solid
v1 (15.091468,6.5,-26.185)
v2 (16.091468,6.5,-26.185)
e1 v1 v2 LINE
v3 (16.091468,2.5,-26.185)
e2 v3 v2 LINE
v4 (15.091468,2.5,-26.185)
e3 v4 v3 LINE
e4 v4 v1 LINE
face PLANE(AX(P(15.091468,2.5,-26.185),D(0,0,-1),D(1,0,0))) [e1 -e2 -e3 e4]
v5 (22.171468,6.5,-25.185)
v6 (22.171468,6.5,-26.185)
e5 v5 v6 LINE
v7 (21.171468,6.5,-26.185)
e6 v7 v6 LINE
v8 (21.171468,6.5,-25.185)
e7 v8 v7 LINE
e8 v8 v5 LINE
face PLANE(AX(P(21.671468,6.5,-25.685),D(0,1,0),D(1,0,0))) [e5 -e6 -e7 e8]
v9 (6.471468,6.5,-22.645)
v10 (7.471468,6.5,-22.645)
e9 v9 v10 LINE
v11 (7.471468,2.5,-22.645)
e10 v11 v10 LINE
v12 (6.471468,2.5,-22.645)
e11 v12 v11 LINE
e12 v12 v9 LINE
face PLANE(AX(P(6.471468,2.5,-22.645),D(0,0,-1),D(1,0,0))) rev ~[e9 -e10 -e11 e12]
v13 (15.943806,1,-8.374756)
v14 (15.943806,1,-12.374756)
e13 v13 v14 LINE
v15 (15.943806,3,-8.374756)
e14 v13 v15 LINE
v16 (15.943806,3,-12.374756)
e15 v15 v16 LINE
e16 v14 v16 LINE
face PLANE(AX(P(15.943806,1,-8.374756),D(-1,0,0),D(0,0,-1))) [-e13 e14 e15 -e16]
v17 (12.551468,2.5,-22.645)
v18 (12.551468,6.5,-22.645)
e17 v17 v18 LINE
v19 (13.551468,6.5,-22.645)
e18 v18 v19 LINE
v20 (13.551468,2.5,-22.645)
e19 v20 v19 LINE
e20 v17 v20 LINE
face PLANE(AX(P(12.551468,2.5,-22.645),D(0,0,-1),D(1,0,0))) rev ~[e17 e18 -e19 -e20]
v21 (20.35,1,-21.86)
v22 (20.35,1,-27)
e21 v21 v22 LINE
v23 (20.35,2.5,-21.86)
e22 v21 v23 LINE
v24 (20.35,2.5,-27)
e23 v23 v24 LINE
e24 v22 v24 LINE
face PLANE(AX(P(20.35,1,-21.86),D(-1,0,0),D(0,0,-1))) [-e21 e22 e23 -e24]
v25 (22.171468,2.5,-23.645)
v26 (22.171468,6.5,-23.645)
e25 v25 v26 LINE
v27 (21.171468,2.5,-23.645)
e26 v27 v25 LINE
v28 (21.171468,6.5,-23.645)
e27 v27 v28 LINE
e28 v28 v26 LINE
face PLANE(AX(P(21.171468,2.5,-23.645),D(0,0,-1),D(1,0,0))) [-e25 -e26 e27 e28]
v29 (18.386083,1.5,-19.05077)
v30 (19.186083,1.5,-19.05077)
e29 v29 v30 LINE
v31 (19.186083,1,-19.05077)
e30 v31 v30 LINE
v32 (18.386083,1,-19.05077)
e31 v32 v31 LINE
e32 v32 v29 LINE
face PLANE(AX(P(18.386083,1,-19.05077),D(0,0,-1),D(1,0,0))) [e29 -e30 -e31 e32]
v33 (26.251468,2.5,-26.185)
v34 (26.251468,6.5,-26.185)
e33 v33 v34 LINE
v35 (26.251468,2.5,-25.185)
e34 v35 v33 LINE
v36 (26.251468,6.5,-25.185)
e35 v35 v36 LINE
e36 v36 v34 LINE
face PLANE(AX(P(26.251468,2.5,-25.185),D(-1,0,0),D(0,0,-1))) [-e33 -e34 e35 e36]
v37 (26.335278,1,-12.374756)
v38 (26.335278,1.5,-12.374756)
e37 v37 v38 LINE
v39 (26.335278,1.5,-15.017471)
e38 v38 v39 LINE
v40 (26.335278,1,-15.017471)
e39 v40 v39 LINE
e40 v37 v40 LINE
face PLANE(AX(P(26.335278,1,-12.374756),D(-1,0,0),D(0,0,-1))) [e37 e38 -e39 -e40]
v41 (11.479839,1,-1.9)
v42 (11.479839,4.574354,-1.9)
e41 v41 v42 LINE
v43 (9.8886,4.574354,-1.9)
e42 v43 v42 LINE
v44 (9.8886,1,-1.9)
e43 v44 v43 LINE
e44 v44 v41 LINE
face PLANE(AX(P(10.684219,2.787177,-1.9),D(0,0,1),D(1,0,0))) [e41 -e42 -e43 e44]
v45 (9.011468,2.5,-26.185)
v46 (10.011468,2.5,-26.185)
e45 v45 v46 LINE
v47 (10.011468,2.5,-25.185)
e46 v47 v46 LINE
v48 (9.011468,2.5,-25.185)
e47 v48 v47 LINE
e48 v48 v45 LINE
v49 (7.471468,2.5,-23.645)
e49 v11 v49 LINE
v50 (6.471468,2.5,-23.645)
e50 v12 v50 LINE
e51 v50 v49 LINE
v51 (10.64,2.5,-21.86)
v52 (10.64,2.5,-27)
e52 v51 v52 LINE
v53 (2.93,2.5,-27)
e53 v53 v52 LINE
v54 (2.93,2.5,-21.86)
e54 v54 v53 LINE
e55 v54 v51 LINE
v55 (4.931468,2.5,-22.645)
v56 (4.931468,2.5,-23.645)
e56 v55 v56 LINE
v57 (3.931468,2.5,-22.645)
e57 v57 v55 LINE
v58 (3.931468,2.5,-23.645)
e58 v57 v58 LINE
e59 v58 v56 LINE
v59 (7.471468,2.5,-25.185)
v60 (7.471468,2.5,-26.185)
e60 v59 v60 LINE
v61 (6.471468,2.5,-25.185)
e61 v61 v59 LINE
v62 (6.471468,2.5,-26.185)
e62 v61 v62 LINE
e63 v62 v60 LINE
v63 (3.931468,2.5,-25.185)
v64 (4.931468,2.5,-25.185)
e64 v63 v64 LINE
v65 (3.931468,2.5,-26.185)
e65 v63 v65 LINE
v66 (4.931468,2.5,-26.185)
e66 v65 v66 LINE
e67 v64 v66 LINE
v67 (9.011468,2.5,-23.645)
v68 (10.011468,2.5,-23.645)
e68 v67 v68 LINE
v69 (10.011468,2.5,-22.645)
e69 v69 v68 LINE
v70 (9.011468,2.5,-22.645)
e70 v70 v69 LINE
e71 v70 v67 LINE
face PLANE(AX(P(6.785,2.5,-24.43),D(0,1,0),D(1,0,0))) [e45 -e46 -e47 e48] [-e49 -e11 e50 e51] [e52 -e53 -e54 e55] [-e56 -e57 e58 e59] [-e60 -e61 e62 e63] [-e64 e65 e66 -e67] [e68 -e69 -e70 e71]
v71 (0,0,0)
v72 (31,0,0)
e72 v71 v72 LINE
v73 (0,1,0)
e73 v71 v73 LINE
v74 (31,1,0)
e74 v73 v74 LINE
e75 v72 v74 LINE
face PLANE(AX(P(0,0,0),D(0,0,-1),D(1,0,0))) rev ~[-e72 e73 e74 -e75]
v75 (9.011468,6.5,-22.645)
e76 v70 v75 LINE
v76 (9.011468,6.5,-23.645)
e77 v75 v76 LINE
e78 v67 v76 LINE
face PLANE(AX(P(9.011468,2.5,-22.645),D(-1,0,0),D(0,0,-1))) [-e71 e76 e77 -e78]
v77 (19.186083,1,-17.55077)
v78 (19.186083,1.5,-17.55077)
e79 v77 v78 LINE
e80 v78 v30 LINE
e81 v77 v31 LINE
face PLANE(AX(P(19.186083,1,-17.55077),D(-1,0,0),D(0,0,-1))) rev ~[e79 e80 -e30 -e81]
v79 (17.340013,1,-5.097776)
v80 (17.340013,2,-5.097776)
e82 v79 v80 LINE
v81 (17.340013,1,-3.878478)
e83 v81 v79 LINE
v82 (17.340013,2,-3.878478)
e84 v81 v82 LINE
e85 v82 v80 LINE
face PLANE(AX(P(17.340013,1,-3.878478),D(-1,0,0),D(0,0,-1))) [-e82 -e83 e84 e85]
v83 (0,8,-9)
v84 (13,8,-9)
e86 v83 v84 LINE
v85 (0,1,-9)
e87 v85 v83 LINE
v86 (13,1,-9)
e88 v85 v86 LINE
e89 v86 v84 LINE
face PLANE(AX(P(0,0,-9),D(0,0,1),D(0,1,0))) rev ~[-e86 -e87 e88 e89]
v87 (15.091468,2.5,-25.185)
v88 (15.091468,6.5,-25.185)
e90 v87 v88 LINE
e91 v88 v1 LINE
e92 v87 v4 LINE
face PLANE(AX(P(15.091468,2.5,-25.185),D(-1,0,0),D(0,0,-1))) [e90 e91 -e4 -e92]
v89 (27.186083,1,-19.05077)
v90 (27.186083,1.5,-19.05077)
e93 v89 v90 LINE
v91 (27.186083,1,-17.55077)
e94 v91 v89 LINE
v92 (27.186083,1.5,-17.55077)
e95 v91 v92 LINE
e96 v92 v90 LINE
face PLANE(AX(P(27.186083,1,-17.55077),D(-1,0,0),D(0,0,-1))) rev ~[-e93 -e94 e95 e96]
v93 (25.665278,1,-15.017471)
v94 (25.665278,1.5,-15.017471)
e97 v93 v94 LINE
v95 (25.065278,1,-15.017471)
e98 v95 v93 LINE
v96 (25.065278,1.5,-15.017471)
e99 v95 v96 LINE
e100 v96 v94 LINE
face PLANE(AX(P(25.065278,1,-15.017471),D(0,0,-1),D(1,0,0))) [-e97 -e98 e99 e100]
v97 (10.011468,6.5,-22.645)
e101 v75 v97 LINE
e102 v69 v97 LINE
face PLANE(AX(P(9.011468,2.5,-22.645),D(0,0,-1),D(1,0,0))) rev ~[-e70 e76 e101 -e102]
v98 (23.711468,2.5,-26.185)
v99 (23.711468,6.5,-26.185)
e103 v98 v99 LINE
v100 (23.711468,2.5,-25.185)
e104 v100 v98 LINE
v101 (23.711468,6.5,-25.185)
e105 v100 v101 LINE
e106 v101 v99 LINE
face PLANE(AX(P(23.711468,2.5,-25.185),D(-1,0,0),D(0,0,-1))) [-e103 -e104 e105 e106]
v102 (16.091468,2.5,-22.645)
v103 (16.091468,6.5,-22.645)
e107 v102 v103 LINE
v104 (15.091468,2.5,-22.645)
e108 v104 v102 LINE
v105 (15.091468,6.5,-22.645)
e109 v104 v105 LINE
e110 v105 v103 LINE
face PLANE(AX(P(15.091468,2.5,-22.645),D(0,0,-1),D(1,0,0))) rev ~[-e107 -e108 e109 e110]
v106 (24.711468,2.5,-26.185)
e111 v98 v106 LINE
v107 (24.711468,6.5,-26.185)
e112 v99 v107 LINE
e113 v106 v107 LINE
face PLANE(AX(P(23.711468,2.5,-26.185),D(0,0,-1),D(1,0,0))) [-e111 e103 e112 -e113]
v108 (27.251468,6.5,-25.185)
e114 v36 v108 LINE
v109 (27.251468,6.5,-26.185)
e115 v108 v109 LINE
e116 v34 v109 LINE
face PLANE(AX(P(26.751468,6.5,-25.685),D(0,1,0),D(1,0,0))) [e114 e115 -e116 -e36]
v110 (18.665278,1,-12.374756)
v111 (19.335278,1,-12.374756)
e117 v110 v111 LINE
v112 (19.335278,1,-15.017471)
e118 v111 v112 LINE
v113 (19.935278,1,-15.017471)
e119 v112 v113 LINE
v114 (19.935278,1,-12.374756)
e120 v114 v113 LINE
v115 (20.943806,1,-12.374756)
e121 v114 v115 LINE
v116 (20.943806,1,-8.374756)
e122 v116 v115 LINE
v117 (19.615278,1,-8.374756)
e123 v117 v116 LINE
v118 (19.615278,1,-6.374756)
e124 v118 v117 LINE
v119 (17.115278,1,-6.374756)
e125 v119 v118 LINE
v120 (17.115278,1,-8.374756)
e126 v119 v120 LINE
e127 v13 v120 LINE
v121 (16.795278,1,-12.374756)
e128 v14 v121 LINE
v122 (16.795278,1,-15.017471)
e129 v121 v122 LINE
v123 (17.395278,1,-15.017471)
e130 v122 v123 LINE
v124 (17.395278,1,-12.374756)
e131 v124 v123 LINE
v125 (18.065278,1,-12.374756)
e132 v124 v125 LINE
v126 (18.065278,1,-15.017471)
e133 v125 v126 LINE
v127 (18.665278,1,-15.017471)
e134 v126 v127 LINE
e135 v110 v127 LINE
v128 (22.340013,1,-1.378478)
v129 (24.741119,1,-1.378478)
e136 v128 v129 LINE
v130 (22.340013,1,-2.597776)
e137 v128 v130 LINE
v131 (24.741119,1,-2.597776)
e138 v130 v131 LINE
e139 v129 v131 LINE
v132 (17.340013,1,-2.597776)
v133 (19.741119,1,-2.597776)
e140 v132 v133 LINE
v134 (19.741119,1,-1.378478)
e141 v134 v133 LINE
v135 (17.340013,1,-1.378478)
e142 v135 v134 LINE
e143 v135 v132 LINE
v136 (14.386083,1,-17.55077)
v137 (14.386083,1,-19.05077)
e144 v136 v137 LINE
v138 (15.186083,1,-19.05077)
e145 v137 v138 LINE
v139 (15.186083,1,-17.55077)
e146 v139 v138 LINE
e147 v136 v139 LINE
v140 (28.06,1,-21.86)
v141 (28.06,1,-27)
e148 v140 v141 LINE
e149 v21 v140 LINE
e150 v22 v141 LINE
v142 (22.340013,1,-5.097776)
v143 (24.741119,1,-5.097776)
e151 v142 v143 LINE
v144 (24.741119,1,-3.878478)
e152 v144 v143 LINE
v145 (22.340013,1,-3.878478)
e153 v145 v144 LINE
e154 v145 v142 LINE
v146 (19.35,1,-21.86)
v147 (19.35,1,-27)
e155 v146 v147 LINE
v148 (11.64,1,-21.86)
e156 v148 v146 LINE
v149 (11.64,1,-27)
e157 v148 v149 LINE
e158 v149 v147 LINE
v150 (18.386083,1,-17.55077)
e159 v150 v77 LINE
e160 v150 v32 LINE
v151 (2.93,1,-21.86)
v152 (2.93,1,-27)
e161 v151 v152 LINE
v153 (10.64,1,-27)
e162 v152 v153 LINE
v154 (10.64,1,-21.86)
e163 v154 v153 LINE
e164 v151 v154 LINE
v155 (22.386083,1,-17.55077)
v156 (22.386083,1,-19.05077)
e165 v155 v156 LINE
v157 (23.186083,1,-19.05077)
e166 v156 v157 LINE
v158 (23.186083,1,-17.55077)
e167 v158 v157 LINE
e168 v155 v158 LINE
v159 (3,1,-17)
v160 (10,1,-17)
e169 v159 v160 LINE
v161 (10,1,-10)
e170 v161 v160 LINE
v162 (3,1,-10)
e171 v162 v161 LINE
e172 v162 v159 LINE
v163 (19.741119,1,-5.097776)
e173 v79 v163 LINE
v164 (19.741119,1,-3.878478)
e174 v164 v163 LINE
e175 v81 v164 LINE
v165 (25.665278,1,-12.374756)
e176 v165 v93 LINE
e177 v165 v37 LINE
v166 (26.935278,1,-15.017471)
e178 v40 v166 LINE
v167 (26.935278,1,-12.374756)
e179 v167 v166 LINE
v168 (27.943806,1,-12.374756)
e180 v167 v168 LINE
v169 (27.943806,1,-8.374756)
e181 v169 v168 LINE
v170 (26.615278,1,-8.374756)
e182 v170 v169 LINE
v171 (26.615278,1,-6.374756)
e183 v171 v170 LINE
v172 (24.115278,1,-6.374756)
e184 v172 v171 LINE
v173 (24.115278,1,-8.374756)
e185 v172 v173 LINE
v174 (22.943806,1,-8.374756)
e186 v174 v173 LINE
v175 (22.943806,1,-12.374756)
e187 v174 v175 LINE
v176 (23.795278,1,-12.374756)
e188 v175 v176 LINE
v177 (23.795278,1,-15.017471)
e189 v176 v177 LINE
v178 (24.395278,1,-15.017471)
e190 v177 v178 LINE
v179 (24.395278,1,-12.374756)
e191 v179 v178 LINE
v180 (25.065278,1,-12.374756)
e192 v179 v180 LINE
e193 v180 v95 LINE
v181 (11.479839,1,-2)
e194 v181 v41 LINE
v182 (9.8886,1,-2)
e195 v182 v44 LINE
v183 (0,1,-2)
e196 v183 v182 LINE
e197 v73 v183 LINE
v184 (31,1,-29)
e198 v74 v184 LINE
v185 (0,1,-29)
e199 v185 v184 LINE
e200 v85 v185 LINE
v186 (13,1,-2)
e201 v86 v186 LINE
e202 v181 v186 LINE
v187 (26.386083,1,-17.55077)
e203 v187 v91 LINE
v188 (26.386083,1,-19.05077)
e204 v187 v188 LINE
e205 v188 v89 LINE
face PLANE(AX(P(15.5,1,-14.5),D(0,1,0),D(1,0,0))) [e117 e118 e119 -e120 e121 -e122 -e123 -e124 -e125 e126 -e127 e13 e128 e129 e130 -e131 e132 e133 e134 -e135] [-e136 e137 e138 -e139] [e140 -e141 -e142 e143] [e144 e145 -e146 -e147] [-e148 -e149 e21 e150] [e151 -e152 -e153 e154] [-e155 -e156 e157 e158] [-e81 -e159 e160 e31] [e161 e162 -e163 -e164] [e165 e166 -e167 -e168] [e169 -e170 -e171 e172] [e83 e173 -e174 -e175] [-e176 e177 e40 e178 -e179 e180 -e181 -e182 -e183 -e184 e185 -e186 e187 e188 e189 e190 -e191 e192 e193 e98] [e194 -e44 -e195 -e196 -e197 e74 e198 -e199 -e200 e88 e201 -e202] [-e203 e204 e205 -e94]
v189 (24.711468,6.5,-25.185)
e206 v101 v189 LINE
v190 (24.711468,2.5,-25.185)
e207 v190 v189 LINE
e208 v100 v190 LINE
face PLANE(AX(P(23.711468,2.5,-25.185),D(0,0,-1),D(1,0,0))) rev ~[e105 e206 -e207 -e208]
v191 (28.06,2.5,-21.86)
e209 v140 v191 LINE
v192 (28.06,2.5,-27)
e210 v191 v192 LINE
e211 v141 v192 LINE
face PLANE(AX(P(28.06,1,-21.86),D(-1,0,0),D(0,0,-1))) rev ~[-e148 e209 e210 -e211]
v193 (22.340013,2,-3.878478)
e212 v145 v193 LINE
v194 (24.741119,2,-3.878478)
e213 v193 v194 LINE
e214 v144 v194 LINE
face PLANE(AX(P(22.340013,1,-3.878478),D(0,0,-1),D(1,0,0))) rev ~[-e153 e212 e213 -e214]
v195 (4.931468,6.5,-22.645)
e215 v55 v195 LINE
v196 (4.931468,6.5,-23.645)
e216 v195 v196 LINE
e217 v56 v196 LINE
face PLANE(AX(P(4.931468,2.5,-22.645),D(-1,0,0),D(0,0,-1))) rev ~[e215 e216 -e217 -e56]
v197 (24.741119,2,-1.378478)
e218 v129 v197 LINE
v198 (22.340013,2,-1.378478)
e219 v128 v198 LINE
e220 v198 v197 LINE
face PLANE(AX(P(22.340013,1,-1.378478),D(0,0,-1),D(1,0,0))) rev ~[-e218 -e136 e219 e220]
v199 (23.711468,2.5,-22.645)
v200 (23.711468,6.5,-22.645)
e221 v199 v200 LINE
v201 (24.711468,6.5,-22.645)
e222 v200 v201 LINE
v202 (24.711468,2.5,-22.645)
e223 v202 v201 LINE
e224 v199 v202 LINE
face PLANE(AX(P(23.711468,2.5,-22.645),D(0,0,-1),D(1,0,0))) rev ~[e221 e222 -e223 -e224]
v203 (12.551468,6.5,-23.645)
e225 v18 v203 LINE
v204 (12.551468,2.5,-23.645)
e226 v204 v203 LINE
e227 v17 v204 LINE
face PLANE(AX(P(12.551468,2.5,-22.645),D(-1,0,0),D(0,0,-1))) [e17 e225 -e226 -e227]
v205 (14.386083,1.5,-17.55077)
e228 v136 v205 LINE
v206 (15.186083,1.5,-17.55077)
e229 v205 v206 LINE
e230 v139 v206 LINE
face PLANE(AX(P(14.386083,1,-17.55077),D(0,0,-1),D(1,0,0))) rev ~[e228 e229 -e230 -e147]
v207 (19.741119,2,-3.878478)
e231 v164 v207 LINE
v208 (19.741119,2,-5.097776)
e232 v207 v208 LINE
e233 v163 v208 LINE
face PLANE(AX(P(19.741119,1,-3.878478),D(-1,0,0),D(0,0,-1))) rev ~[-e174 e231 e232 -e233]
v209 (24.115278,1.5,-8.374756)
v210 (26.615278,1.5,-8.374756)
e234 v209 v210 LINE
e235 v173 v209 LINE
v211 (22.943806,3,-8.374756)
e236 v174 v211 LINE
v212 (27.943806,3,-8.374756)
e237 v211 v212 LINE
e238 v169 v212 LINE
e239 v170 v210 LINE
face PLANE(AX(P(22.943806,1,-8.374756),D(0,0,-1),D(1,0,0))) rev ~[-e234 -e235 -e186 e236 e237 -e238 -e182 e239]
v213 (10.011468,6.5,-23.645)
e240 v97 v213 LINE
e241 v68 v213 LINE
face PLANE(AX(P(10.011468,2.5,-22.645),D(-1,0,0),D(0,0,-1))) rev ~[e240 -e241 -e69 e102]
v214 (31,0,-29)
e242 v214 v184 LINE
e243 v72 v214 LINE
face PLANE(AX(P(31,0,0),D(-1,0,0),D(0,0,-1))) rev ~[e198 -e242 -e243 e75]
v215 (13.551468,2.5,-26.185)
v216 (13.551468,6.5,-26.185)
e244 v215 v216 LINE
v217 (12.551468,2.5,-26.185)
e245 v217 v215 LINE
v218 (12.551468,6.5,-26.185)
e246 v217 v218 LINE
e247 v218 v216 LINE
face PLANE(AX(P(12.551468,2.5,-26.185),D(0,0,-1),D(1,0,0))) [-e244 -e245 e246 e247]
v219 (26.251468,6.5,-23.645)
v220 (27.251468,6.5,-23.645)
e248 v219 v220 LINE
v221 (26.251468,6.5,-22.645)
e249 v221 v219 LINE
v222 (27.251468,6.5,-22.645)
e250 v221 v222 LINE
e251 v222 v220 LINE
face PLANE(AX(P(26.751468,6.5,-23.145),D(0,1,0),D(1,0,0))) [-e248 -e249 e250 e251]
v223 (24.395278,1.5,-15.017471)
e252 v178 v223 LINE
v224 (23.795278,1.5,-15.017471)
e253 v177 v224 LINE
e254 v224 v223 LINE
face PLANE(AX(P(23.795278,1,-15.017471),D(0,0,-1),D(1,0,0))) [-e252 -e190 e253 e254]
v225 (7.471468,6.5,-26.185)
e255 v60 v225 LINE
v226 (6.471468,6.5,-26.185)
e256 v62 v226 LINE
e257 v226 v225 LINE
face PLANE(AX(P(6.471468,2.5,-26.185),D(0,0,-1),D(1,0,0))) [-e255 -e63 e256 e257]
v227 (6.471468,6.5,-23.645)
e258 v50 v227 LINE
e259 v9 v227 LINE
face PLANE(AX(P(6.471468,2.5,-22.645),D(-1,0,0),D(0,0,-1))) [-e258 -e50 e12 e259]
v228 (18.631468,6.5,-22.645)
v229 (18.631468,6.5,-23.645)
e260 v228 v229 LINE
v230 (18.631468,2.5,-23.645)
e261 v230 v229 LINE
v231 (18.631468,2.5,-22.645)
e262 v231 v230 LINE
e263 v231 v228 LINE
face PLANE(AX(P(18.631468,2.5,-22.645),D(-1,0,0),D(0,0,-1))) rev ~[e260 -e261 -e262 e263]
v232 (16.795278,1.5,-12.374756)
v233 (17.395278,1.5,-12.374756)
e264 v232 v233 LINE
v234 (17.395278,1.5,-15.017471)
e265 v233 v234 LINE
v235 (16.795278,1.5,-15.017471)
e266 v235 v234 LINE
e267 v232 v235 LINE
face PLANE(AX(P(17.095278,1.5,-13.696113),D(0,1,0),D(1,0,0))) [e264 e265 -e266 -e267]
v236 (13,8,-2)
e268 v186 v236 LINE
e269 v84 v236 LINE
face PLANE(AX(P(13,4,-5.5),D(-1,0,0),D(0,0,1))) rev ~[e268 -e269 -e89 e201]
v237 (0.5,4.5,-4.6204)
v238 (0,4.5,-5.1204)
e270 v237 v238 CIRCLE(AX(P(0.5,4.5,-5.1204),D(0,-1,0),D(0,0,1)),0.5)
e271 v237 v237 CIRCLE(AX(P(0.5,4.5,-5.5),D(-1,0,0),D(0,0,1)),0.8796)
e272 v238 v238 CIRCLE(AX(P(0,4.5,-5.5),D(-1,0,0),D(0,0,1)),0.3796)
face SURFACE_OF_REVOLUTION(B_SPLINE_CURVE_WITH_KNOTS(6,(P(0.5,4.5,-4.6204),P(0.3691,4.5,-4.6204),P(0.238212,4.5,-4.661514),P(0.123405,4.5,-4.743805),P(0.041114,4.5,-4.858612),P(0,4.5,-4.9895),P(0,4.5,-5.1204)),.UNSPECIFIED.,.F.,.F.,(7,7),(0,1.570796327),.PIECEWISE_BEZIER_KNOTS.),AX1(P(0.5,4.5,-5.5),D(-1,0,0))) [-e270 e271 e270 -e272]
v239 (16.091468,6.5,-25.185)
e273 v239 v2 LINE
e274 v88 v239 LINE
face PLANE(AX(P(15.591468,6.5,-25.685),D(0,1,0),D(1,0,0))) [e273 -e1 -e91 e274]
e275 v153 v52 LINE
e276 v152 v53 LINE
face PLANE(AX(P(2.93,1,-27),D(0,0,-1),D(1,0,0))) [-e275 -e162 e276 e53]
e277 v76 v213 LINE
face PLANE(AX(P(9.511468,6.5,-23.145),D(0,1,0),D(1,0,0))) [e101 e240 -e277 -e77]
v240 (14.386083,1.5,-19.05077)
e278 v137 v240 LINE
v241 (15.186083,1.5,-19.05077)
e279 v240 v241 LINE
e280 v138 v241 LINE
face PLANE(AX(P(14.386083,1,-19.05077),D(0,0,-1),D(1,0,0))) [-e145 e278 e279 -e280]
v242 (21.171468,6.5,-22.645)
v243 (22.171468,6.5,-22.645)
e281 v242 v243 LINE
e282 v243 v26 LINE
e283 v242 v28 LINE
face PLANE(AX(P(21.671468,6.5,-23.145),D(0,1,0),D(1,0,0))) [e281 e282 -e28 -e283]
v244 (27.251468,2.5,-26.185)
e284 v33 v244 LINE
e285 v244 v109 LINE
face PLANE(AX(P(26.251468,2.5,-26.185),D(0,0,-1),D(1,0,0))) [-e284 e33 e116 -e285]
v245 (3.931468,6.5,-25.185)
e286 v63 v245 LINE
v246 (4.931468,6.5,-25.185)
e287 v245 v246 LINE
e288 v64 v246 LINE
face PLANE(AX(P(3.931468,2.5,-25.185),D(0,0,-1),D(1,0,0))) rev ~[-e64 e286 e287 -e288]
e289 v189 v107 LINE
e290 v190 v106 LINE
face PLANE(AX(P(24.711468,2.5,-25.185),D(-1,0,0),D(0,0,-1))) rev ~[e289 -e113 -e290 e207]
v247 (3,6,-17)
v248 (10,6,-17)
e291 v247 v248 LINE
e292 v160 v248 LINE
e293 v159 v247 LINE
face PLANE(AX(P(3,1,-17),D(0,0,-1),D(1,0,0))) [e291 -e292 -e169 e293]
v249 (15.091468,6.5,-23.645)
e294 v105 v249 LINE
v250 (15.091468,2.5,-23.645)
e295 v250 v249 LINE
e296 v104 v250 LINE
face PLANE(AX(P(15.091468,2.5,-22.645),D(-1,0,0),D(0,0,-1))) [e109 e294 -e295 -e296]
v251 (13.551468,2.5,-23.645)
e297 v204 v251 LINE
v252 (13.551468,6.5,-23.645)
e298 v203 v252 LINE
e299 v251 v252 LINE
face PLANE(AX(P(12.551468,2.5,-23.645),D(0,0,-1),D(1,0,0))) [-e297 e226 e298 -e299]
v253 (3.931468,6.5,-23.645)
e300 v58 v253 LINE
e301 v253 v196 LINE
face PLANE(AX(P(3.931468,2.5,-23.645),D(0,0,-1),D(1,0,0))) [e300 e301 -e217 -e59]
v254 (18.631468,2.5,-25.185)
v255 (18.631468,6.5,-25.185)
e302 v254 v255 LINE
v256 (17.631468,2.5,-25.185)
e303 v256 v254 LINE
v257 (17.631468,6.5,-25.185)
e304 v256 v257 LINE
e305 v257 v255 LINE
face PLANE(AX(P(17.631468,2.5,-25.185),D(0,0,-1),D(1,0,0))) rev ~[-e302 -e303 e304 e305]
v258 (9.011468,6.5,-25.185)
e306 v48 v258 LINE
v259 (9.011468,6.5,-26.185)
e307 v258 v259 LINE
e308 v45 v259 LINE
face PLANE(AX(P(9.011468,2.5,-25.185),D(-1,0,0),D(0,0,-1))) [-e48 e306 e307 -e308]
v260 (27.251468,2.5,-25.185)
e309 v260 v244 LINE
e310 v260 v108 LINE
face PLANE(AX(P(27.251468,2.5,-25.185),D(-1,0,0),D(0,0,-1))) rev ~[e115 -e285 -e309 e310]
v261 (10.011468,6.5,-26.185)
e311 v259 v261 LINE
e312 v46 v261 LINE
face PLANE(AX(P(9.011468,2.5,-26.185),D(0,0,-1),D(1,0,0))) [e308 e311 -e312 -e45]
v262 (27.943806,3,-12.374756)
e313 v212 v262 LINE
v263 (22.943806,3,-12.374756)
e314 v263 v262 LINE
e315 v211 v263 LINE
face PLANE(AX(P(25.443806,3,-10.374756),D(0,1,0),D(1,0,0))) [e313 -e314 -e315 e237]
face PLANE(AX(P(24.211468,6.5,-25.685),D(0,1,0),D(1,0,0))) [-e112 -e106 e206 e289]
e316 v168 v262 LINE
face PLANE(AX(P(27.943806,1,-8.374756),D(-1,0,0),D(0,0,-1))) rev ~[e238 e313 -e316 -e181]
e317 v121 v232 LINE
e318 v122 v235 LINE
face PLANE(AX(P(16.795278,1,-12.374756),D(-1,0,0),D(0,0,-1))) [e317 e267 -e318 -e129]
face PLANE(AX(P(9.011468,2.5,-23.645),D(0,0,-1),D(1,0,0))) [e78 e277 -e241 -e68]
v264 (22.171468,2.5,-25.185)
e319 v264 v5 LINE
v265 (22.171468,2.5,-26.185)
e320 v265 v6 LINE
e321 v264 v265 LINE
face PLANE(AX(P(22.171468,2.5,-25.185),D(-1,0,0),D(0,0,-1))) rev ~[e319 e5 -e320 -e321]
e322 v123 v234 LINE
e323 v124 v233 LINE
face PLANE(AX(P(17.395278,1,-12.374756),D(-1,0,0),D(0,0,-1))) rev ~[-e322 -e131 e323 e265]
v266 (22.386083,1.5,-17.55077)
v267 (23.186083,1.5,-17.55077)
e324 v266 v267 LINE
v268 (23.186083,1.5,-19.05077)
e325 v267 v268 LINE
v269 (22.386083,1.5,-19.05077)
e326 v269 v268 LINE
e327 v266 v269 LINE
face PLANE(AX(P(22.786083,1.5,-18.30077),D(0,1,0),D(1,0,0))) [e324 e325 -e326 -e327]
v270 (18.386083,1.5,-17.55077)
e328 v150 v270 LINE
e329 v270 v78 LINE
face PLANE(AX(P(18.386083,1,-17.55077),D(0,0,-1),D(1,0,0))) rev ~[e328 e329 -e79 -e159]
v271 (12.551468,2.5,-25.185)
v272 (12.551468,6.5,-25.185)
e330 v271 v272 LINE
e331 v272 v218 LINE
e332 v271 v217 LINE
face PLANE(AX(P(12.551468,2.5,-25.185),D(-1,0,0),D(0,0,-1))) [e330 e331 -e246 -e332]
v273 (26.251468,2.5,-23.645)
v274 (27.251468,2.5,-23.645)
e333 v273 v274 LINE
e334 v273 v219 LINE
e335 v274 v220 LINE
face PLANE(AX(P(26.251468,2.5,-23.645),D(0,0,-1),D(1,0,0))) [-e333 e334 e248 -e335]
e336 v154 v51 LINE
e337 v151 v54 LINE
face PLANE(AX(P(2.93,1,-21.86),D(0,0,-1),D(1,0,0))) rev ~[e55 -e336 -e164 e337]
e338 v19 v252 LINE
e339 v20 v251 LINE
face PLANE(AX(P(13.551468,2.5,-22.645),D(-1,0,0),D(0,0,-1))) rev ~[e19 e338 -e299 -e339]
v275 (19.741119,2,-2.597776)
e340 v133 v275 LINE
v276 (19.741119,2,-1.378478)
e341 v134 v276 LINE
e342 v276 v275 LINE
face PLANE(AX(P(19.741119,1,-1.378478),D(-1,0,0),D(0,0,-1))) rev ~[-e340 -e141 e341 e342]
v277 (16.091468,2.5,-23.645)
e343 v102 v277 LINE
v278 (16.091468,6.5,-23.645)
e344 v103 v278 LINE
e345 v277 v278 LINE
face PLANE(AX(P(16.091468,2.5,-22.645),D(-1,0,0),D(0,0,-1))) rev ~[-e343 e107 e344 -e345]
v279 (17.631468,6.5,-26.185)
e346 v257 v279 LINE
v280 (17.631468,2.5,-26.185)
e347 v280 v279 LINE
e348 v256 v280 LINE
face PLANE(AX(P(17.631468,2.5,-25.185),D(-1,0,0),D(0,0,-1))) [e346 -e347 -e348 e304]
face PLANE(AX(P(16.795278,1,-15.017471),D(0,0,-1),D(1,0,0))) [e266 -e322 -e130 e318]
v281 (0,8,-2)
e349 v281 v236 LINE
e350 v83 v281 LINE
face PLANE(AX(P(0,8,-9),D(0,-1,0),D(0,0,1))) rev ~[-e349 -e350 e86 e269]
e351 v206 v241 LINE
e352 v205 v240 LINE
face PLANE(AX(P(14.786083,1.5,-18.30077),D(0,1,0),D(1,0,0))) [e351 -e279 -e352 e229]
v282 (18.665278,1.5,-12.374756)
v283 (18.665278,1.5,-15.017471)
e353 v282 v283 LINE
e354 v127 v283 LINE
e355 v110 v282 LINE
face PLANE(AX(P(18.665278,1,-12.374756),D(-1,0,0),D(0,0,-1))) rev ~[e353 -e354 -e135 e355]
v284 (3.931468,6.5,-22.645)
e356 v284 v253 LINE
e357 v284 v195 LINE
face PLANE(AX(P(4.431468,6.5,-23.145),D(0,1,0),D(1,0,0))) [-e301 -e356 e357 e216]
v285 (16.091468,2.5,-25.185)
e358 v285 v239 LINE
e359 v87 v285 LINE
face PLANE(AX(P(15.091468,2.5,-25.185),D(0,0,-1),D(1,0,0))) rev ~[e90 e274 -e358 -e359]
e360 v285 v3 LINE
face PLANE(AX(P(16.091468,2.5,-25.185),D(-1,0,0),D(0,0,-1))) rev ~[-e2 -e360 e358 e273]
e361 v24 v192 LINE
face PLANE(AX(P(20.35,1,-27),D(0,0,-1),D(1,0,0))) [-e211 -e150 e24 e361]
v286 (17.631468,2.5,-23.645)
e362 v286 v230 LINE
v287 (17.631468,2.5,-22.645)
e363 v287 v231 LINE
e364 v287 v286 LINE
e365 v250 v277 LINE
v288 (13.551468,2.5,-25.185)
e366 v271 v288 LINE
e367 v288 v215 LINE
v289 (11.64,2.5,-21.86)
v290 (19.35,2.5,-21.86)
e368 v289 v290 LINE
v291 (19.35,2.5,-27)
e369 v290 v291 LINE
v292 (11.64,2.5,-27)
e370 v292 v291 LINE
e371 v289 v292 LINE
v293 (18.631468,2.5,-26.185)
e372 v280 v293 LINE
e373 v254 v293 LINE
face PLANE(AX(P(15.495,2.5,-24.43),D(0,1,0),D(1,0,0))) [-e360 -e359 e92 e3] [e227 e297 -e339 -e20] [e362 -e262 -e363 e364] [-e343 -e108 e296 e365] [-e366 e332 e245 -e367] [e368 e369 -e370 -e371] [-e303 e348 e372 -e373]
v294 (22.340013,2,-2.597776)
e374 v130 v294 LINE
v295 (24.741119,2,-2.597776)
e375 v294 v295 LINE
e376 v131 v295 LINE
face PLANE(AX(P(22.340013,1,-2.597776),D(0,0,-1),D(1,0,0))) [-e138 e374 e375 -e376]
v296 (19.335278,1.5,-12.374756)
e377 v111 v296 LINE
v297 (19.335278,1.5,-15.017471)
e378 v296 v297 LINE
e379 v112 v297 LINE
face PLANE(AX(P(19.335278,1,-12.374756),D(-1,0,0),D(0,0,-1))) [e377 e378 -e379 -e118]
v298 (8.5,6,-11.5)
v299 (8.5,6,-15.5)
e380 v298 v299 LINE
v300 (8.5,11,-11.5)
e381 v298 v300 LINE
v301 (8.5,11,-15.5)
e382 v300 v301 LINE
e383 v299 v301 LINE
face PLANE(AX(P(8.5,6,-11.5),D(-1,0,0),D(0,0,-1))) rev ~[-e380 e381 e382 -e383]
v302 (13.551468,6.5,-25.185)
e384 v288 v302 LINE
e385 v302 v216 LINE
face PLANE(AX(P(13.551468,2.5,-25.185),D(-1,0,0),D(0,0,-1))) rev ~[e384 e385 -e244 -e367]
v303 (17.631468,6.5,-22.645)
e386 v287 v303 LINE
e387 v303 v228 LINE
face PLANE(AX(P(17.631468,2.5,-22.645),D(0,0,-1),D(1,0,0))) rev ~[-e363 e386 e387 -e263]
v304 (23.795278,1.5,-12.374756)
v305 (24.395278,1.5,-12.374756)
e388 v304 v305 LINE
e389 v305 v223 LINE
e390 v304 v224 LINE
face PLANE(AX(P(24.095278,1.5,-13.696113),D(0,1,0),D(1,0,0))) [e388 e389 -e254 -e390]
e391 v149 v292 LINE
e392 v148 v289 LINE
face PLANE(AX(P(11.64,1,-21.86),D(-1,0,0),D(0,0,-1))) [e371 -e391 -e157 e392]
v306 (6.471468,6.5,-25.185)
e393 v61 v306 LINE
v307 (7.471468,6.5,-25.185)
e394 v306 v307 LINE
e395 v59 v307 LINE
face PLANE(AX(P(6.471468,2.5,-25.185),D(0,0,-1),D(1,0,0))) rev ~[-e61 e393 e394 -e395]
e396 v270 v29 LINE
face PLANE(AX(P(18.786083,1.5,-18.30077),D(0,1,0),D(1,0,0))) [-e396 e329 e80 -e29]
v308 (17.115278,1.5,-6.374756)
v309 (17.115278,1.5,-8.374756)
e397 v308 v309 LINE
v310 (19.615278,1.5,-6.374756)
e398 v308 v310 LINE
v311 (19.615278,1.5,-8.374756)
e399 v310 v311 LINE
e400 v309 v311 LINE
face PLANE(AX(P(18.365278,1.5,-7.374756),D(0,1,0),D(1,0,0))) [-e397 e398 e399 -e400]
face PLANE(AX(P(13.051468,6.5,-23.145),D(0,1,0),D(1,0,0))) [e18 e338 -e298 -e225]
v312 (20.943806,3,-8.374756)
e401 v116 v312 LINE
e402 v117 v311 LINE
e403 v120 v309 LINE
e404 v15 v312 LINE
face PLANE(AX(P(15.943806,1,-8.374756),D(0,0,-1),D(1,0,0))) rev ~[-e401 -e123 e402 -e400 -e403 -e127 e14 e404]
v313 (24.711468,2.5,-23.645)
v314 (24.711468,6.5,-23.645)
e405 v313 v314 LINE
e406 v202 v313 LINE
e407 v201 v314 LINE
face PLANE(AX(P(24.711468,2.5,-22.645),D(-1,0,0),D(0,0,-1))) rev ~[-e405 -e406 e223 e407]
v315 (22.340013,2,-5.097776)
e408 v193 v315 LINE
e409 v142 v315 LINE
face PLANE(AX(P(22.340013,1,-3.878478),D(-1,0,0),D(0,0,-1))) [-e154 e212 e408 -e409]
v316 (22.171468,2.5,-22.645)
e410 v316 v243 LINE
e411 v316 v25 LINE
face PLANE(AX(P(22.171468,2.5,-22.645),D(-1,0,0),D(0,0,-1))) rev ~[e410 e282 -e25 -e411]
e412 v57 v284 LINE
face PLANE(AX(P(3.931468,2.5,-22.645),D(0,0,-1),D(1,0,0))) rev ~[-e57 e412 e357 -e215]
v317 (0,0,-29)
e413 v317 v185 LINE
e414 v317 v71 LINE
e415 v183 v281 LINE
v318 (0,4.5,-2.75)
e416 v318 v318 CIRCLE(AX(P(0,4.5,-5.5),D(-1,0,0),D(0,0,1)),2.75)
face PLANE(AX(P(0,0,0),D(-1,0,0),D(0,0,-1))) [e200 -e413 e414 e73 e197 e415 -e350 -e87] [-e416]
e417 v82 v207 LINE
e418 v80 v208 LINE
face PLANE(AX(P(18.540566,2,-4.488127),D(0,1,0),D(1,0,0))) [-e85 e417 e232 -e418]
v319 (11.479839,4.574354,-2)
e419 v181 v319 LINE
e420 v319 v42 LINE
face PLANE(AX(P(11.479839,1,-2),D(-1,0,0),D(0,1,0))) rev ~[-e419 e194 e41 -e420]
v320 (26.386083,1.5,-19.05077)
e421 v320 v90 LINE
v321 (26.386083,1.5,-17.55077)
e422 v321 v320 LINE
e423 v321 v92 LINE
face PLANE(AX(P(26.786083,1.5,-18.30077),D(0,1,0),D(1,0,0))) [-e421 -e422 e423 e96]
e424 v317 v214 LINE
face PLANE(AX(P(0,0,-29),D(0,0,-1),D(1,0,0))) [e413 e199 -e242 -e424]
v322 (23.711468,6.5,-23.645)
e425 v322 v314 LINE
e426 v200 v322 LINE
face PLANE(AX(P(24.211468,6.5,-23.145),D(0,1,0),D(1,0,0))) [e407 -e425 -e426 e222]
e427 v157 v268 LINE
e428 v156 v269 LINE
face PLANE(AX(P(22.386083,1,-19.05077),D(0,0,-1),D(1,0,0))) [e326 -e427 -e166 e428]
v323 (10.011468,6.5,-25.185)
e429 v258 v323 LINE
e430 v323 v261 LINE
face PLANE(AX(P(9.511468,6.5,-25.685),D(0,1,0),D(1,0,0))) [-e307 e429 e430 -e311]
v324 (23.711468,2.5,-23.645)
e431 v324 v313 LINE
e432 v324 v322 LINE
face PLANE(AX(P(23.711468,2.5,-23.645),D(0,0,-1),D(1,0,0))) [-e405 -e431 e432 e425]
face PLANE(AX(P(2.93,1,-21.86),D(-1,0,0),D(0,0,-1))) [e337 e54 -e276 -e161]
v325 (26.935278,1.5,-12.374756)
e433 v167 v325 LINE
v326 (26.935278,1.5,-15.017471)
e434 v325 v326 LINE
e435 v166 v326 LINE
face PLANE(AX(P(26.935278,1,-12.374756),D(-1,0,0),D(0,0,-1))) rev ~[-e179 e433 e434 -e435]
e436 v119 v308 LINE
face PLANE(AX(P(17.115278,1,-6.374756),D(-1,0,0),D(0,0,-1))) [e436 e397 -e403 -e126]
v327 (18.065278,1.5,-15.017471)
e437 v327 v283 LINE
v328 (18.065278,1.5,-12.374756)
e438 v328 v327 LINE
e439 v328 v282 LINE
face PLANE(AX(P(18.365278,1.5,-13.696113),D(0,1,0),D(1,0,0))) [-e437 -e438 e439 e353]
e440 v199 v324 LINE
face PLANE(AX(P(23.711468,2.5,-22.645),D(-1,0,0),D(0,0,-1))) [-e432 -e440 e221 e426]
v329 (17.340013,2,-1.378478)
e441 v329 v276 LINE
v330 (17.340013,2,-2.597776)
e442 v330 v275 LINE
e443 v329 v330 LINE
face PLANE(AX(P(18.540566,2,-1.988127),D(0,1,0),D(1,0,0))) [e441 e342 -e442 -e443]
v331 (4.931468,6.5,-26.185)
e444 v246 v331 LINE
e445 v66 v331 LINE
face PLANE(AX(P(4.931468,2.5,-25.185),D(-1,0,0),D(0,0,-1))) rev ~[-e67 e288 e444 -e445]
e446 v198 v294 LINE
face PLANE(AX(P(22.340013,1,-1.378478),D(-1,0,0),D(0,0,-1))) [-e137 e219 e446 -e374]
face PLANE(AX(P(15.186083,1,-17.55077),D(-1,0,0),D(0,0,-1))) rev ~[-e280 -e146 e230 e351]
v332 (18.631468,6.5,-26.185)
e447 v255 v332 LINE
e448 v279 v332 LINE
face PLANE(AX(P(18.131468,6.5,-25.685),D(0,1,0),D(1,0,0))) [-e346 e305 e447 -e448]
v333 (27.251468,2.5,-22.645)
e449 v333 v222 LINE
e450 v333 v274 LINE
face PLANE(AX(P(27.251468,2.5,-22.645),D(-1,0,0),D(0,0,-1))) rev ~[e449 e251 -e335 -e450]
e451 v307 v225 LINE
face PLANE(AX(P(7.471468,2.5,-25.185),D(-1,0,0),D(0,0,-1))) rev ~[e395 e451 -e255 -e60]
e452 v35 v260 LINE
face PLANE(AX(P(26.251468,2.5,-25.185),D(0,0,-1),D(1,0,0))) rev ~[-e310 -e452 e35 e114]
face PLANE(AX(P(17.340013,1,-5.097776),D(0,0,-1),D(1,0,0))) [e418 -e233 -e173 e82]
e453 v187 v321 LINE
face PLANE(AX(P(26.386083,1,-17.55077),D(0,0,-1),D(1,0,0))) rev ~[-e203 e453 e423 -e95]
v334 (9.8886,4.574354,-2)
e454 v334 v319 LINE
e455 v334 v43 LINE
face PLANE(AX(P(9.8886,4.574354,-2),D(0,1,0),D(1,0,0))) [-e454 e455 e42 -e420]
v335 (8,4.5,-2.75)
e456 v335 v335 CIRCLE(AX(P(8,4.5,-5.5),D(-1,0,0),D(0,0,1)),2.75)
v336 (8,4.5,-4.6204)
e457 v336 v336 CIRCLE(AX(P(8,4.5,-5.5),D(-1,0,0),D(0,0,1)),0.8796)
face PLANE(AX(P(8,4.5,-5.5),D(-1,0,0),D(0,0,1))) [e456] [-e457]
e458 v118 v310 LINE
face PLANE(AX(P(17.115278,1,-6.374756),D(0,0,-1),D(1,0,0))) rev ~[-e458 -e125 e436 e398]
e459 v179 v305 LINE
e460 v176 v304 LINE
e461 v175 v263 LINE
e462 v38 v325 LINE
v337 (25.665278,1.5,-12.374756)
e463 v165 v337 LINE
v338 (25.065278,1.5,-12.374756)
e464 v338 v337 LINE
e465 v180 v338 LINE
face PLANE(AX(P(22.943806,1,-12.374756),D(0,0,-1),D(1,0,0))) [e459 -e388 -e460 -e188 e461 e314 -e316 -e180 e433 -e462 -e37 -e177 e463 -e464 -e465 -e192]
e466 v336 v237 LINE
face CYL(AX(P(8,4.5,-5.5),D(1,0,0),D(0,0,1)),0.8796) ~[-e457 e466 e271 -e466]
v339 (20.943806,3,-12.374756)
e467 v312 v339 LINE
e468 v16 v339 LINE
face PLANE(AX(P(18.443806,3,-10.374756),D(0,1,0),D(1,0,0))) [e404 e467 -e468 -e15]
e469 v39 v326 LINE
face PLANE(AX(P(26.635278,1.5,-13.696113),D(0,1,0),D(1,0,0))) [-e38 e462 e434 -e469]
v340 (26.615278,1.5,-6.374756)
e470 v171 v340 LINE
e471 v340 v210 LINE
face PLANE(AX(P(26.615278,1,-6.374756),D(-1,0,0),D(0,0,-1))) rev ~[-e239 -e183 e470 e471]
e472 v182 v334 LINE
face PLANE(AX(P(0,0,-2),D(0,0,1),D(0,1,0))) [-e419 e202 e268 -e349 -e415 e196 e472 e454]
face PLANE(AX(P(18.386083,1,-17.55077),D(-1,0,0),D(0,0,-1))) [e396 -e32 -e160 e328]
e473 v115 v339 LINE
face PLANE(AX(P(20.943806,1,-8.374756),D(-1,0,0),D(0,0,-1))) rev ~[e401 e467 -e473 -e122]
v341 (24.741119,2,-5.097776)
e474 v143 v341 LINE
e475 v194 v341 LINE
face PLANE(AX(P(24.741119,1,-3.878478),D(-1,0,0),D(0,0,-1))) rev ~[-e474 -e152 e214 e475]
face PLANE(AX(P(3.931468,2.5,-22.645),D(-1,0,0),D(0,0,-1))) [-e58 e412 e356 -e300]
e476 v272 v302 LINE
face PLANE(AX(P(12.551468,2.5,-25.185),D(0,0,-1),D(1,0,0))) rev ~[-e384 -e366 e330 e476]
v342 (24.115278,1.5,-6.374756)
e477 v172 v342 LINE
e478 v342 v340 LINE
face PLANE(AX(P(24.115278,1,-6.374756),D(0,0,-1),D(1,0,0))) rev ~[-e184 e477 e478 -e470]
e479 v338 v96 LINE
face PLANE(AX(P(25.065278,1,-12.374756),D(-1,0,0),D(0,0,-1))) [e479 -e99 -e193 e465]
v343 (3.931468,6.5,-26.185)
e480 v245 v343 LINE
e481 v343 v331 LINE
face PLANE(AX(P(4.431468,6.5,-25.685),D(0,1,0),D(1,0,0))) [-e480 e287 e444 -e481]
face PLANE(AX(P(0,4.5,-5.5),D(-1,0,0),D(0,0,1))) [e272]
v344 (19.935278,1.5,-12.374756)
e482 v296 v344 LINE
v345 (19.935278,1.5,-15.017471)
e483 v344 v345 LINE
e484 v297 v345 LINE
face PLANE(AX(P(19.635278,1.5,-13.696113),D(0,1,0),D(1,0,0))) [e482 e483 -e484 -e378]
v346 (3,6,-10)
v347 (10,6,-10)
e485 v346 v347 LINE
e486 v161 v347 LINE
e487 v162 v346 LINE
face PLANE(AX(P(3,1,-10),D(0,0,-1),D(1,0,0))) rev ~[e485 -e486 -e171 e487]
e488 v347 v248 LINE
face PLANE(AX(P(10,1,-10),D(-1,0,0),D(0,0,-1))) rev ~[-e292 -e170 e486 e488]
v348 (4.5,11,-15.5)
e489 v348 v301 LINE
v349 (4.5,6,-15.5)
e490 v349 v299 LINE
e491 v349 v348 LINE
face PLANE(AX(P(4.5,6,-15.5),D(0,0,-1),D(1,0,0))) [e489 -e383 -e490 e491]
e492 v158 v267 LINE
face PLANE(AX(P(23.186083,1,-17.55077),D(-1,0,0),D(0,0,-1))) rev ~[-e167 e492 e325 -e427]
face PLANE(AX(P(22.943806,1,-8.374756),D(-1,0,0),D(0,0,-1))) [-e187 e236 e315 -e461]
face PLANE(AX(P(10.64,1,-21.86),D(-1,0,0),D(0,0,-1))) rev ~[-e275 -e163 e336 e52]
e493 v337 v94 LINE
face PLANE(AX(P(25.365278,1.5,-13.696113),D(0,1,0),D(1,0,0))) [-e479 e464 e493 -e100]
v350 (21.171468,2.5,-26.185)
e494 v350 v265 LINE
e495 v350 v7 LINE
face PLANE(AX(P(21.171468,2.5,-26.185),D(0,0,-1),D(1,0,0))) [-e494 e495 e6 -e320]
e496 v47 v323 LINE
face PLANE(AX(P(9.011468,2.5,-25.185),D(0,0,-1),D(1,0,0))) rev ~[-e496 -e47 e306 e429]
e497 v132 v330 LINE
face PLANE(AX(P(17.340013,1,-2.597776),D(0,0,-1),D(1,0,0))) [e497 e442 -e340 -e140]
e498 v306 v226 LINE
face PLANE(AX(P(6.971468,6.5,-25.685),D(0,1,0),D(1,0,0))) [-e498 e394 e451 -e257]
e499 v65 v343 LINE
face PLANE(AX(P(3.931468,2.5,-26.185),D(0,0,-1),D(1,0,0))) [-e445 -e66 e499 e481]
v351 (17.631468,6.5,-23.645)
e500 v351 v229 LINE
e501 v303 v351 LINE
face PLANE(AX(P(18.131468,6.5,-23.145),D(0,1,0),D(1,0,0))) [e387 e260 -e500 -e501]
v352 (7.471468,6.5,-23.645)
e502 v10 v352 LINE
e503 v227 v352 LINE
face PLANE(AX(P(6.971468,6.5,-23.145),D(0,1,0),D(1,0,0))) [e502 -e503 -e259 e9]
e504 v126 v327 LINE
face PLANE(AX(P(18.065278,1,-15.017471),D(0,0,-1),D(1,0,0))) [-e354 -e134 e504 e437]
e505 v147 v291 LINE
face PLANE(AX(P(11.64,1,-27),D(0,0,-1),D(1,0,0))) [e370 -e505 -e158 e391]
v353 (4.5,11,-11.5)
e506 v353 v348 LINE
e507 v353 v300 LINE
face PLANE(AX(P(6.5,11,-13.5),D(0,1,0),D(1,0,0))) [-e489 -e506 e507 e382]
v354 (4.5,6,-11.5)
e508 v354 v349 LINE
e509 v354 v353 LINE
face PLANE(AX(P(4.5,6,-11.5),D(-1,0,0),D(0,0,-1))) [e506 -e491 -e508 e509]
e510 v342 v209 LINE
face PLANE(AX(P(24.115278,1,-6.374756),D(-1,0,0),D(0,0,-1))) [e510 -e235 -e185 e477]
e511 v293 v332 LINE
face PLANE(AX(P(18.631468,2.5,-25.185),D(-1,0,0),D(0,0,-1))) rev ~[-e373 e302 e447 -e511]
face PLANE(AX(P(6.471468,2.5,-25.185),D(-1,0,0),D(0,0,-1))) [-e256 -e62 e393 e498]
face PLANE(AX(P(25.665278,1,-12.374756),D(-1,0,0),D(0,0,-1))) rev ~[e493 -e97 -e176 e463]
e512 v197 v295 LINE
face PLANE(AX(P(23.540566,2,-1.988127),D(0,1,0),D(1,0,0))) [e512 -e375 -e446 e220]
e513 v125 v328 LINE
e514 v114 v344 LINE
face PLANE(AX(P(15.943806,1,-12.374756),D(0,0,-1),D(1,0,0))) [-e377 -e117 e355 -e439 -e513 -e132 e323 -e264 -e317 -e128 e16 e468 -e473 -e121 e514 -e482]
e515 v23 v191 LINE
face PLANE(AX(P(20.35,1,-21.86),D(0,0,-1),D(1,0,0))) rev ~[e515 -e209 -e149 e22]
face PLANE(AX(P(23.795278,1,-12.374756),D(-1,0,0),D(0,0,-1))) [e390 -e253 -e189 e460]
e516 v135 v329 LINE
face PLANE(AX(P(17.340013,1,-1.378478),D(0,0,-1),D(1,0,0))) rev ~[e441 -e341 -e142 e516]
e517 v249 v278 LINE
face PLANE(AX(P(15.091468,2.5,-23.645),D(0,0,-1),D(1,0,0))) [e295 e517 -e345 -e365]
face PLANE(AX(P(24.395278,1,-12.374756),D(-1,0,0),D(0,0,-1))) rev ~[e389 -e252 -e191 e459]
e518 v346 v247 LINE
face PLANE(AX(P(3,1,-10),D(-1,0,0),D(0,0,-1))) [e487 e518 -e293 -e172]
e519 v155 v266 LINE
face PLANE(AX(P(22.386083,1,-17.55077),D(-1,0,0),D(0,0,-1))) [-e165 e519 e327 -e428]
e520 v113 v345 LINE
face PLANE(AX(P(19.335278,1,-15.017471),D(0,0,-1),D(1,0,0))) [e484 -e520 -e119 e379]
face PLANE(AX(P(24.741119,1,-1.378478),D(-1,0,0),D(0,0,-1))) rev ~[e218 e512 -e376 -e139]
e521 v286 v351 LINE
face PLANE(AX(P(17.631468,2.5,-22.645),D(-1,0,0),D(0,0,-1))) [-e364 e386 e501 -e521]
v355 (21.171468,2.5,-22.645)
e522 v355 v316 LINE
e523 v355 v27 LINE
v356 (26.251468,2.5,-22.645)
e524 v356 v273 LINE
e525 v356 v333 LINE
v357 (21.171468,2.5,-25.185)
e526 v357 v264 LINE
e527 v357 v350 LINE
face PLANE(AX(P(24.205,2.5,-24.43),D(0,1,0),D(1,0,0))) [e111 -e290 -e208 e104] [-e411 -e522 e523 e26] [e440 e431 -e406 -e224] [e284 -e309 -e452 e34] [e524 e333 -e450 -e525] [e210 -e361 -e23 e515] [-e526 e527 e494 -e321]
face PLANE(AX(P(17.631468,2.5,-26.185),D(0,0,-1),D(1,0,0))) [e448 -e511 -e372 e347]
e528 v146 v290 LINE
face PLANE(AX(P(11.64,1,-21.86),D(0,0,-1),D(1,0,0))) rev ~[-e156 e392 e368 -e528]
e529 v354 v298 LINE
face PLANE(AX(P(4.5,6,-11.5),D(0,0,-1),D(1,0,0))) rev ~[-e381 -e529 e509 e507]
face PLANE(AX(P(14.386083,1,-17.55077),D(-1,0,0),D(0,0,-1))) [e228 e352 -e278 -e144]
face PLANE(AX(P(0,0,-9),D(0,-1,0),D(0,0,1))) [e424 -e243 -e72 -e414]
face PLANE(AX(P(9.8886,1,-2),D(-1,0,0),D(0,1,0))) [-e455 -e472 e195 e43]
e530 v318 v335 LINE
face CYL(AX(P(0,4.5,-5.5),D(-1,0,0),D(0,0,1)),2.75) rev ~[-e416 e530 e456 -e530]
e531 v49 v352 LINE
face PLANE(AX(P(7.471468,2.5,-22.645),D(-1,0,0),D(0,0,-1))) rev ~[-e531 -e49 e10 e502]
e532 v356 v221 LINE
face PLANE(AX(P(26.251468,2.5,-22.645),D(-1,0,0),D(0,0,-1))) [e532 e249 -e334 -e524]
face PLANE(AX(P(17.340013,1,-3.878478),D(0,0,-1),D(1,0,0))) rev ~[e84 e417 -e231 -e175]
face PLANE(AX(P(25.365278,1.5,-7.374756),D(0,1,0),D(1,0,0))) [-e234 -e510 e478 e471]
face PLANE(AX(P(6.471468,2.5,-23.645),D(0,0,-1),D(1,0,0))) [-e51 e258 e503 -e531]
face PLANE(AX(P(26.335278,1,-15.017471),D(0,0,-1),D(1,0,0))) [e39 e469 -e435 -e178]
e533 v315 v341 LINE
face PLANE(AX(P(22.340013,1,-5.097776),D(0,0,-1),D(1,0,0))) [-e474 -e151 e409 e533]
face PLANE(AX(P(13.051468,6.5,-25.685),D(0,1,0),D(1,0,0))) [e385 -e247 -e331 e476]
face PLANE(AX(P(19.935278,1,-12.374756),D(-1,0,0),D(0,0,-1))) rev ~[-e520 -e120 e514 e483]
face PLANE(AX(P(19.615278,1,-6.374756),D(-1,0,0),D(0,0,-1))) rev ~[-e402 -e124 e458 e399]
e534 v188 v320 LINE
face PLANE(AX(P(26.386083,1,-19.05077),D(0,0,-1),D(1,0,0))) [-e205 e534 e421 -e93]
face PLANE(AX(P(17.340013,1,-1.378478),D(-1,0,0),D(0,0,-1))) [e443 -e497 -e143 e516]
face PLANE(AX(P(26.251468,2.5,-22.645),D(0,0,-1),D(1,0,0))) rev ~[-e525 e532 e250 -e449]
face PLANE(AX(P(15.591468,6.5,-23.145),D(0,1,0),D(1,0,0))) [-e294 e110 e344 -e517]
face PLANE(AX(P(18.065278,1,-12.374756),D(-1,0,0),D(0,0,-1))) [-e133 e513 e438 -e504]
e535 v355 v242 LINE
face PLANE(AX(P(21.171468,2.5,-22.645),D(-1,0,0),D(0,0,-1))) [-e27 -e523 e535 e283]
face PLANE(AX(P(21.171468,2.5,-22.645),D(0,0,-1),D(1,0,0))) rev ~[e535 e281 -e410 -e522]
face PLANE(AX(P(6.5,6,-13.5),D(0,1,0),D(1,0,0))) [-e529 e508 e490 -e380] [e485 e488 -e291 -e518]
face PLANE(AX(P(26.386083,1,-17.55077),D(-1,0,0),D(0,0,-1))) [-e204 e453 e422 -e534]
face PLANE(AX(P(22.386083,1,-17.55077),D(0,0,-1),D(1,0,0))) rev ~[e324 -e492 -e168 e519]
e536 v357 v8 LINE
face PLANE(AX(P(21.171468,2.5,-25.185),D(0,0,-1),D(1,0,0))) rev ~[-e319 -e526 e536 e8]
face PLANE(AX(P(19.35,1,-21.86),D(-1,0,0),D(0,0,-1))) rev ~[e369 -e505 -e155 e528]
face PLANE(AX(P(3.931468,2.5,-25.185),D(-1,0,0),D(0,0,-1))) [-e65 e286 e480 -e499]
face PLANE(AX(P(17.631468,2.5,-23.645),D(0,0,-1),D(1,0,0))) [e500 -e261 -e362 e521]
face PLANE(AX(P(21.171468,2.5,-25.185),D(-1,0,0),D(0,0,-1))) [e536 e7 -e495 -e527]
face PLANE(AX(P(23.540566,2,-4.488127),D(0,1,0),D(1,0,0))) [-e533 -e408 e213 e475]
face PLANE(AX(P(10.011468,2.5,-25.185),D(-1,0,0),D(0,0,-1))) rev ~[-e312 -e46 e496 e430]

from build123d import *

# Parameters (mm, degrees)
SKETCH1_W            = 31
SKETCH1_H            = 29
BOSS_EXTRUDE1_DEPTH  = 1
SKETCH2_W            = 7
SKETCH2_H            = 8
BOSS_EXTRUDE2_DEPTH  = 13
SKETCH3_W            = 7
SKETCH3_H            = 7
BOSS_EXTRUDE3_DEPTH  = 5
SKETCH4_W            = 4
SKETCH4_H            = 4
BOSS_EXTRUDE4_DEPTH  = 5
SKETCH5_R            = 2.75
CUT_EXTRUDE1_DEPTH   = 8
SKETCH6_W            = 1.591238362
SKETCH6_H            = 3.57435367
BOSS_EXTRUDE5_DEPTH  = 0.1
SKETCH7_R            = 0.879599875
BOSS_EXTRUDE6_DEPTH  = 8
FILLET2_R            = 0.5
SKETCH8_W            = 7.71
SKETCH8_H            = 5.14
BOSS_EXTRUDE7_DEPTH  = 1.5
SKETCH9_W            = 1
SKETCH9_H            = 1
BOSS_EXTRUDE8_DEPTH  = 4
SKETCH10_W           = 0.8
SKETCH10_H           = 1.5
BOSS_EXTRUDE9_DEPTH  = 0.5
SKETCH11_W           = 5
SKETCH11_H           = 4
BOSS_EXTRUDE10_DEPTH = 2
SKETCH12_W           = 0.6
SKETCH12_H           = 2.642715267
BOSS_EXTRUDE11_DEPTH = 0.5
SKETCH13_W           = 2.5
SKETCH13_H           = 2
BOSS_EXTRUDE12_DEPTH = 0.5
SKETCH14_W           = 2.401106116
SKETCH14_H           = 1.2192983
BOSS_EXTRUDE13_DEPTH = 1


with BuildPart() as part:
    # Sketch1 → Boss-Extrude1 (new body)
    with BuildSketch(Plane(origin=(0, 0, 0), x_dir=(1, 0, 0), z_dir=(0, 1, 0))):
        with Locations((15.5, 14.5)):
            Rectangle(SKETCH1_W, SKETCH1_H)
    extrude(amount=BOSS_EXTRUDE1_DEPTH)

    # Sketch2 → Boss-Extrude2 (add)
    with BuildSketch(Plane.ZY):
        with Locations((-5.5, 4)):
            Rectangle(SKETCH2_W, SKETCH2_H)
    extrude(amount=-BOSS_EXTRUDE2_DEPTH)

    # Sketch3 → Boss-Extrude3 (add)
    with BuildSketch(Plane(origin=(0, 1, 0), x_dir=(1, 0, 0), z_dir=(0, 1, 0))):
        with Locations((6.5, 13.5)):
            Rectangle(SKETCH3_W, SKETCH3_H)
    extrude(amount=BOSS_EXTRUDE3_DEPTH)

    # Sketch4 → Boss-Extrude4 (add)
    with BuildSketch(Plane(origin=(0, 6, 0), x_dir=(1, 0, 0), z_dir=(0, 1, 0))):
        with Locations((6.5, 13.5)):
            Rectangle(SKETCH4_W, SKETCH4_H)
    extrude(amount=BOSS_EXTRUDE4_DEPTH)

    # Sketch5 → Cut-Extrude1 (cut)
    with BuildSketch(Plane.ZY):
        with Locations((-5.5, 4.5)):
            Circle(SKETCH5_R)
    extrude(amount=-CUT_EXTRUDE1_DEPTH, mode=Mode.SUBTRACT)

    # Sketch6 → Boss-Extrude5 (add)
    with BuildSketch(Plane.XY.offset(-2)):
        with Locations((10.684219388, 2.787176835)):
            Rectangle(SKETCH6_W, SKETCH6_H)
    extrude(amount=BOSS_EXTRUDE5_DEPTH)

    # Sketch7 → Boss-Extrude6 (add)
    with BuildSketch(Plane.ZY.offset(-8)):
        with Locations((-5.5, 4.5)):
            Circle(SKETCH7_R)
    extrude(amount=BOSS_EXTRUDE6_DEPTH)

    # Fillet2
    fillet2_edges = [part.edges().sort_by_distance(p)[0] for p in [
        (0, 4.5, -6.379599875),
    ]]
    fillet(fillet2_edges, radius=FILLET2_R)

    # Sketch8 → Boss-Extrude7 (add)
    with BuildSketch(Plane(origin=(0, 1, 0), x_dir=(1, 0, 0), z_dir=(0, 1, 0))):
        with Locations((15.495, 24.43)):
            Rectangle(SKETCH8_W, SKETCH8_H)
        with Locations((6.785, 24.43)):
            Rectangle(SKETCH8_W, SKETCH8_H)
        with Locations((24.205, 24.43)):
            Rectangle(SKETCH8_W, SKETCH8_H)
    extrude(amount=BOSS_EXTRUDE7_DEPTH)

    # Sketch9 → Boss-Extrude8 (add)
    with BuildSketch(Plane(origin=(0, 2.5, 0), x_dir=(1, 0, 0), z_dir=(0, 1, 0))):
        with Locations((6.971468334, 25.685)):
            Rectangle(SKETCH9_W, SKETCH9_H)
        with Locations((4.431468334, 25.685)):
            Rectangle(SKETCH9_W, SKETCH9_H)
        with Locations((9.511468334, 25.685)):
            Rectangle(SKETCH9_W, SKETCH9_H)
        with Locations((4.431468334, 23.145)):
            Rectangle(SKETCH9_W, SKETCH9_H)
        with Locations((13.051468334, 23.145)):
            Rectangle(SKETCH9_W, SKETCH9_H)
        with Locations((6.971468334, 23.145)):
            Rectangle(SKETCH9_W, SKETCH9_H)
        with Locations((9.511468334, 23.145)):
            Rectangle(SKETCH9_W, SKETCH9_H)
        with Locations((18.131468334, 25.685)):
            Rectangle(SKETCH9_W, SKETCH9_H)
        with Locations((18.131468334, 23.145)):
            Rectangle(SKETCH9_W, SKETCH9_H)
        with Locations((15.591468334, 23.145)):
            Rectangle(SKETCH9_W, SKETCH9_H)
        with Locations((15.591468334, 25.685)):
            Rectangle(SKETCH9_W, SKETCH9_H)
        with Locations((13.051468334, 25.685)):
            Rectangle(SKETCH9_W, SKETCH9_H)
        with Locations((21.671468334, 23.145)):
            Rectangle(SKETCH9_W, SKETCH9_H)
        with Locations((26.751468334, 25.685)):
            Rectangle(SKETCH9_W, SKETCH9_H)
        with Locations((26.751468334, 23.145)):
            Rectangle(SKETCH9_W, SKETCH9_H)
        with Locations((24.211468334, 23.145)):
            Rectangle(SKETCH9_W, SKETCH9_H)
        with Locations((24.211468334, 25.685)):
            Rectangle(SKETCH9_W, SKETCH9_H)
        with Locations((21.671468334, 25.685)):
            Rectangle(SKETCH9_W, SKETCH9_H)
    extrude(amount=BOSS_EXTRUDE8_DEPTH)

    # Sketch10 → Boss-Extrude9 (add)
    with BuildSketch(Plane(origin=(0, 1, 0), x_dir=(1, 0, 0), z_dir=(0, 1, 0))):
        with Locations((18.786083485, 18.300770285)):
            Rectangle(SKETCH10_W, SKETCH10_H)
        with Locations((14.786083485, 18.300770285)):
            Rectangle(SKETCH10_W, SKETCH10_H)
        with Locations((22.786083485, 18.300770285)):
            Rectangle(SKETCH10_W, SKETCH10_H)
        with Locations((26.786083485, 18.300770285)):
            Rectangle(SKETCH10_W, SKETCH10_H)
    extrude(amount=BOSS_EXTRUDE9_DEPTH)

    # Sketch11 → Boss-Extrude10 (add)
    with BuildSketch(Plane(origin=(0, 1, 0), x_dir=(1, 0, 0), z_dir=(0, 1, 0))):
        with Locations((25.443805994, 10.374755585)):
            Rectangle(SKETCH11_W, SKETCH11_H)
        with Locations((18.443805994, 10.374755585)):
            Rectangle(SKETCH11_W, SKETCH11_H)
    extrude(amount=BOSS_EXTRUDE10_DEPTH)

    # Sketch12 → Boss-Extrude11 (add)
    with BuildSketch(Plane(origin=(0, 1, 0), x_dir=(1, 0, 0), z_dir=(0, 1, 0))):
        with Locations((17.095277575, 13.696113219)):
            Rectangle(SKETCH12_W, SKETCH12_H)
        with Locations((24.095277575, 13.696113219)):
            Rectangle(SKETCH12_W, SKETCH12_H)
        with Locations((18.365277575, 13.696113219)):
            Rectangle(SKETCH12_W, SKETCH12_H)
        with Locations((19.635277575, 13.696113219)):
            Rectangle(SKETCH12_W, SKETCH12_H)
        with Locations((25.365277575, 13.696113219)):
            Rectangle(SKETCH12_W, SKETCH12_H)
        with Locations((26.635277575, 13.696113219)):
            Rectangle(SKETCH12_W, SKETCH12_H)
    extrude(amount=BOSS_EXTRUDE11_DEPTH)

    # Sketch13 → Boss-Extrude12 (add)
    with BuildSketch(Plane(origin=(0, 1, 0), x_dir=(1, 0, 0), z_dir=(0, 1, 0))):
        with Locations((18.365277575, 7.374755585)):
            Rectangle(SKETCH13_W, SKETCH13_H)
        with Locations((25.365277575, 7.374755585)):
            Rectangle(SKETCH13_W, SKETCH13_H)
    extrude(amount=BOSS_EXTRUDE12_DEPTH)

    # Sketch14 → Boss-Extrude13 (add)
    with BuildSketch(Plane(origin=(0, 1, 0), x_dir=(1, 0, 0), z_dir=(0, 1, 0))):
        with Locations((23.540566393, 4.488126974)):
            Rectangle(SKETCH14_W, SKETCH14_H)
        with Locations((18.540566393, 4.488126974)):
            Rectangle(SKETCH14_W, SKETCH14_H)
        with Locations((23.540566393, 1.988126974)):
            Rectangle(SKETCH14_W, SKETCH14_H)
        with Locations((18.540566393, 1.988126974)):
            Rectangle(SKETCH14_W, SKETCH14_H)
    extrude(amount=BOSS_EXTRUDE13_DEPTH)


solid = part.part
